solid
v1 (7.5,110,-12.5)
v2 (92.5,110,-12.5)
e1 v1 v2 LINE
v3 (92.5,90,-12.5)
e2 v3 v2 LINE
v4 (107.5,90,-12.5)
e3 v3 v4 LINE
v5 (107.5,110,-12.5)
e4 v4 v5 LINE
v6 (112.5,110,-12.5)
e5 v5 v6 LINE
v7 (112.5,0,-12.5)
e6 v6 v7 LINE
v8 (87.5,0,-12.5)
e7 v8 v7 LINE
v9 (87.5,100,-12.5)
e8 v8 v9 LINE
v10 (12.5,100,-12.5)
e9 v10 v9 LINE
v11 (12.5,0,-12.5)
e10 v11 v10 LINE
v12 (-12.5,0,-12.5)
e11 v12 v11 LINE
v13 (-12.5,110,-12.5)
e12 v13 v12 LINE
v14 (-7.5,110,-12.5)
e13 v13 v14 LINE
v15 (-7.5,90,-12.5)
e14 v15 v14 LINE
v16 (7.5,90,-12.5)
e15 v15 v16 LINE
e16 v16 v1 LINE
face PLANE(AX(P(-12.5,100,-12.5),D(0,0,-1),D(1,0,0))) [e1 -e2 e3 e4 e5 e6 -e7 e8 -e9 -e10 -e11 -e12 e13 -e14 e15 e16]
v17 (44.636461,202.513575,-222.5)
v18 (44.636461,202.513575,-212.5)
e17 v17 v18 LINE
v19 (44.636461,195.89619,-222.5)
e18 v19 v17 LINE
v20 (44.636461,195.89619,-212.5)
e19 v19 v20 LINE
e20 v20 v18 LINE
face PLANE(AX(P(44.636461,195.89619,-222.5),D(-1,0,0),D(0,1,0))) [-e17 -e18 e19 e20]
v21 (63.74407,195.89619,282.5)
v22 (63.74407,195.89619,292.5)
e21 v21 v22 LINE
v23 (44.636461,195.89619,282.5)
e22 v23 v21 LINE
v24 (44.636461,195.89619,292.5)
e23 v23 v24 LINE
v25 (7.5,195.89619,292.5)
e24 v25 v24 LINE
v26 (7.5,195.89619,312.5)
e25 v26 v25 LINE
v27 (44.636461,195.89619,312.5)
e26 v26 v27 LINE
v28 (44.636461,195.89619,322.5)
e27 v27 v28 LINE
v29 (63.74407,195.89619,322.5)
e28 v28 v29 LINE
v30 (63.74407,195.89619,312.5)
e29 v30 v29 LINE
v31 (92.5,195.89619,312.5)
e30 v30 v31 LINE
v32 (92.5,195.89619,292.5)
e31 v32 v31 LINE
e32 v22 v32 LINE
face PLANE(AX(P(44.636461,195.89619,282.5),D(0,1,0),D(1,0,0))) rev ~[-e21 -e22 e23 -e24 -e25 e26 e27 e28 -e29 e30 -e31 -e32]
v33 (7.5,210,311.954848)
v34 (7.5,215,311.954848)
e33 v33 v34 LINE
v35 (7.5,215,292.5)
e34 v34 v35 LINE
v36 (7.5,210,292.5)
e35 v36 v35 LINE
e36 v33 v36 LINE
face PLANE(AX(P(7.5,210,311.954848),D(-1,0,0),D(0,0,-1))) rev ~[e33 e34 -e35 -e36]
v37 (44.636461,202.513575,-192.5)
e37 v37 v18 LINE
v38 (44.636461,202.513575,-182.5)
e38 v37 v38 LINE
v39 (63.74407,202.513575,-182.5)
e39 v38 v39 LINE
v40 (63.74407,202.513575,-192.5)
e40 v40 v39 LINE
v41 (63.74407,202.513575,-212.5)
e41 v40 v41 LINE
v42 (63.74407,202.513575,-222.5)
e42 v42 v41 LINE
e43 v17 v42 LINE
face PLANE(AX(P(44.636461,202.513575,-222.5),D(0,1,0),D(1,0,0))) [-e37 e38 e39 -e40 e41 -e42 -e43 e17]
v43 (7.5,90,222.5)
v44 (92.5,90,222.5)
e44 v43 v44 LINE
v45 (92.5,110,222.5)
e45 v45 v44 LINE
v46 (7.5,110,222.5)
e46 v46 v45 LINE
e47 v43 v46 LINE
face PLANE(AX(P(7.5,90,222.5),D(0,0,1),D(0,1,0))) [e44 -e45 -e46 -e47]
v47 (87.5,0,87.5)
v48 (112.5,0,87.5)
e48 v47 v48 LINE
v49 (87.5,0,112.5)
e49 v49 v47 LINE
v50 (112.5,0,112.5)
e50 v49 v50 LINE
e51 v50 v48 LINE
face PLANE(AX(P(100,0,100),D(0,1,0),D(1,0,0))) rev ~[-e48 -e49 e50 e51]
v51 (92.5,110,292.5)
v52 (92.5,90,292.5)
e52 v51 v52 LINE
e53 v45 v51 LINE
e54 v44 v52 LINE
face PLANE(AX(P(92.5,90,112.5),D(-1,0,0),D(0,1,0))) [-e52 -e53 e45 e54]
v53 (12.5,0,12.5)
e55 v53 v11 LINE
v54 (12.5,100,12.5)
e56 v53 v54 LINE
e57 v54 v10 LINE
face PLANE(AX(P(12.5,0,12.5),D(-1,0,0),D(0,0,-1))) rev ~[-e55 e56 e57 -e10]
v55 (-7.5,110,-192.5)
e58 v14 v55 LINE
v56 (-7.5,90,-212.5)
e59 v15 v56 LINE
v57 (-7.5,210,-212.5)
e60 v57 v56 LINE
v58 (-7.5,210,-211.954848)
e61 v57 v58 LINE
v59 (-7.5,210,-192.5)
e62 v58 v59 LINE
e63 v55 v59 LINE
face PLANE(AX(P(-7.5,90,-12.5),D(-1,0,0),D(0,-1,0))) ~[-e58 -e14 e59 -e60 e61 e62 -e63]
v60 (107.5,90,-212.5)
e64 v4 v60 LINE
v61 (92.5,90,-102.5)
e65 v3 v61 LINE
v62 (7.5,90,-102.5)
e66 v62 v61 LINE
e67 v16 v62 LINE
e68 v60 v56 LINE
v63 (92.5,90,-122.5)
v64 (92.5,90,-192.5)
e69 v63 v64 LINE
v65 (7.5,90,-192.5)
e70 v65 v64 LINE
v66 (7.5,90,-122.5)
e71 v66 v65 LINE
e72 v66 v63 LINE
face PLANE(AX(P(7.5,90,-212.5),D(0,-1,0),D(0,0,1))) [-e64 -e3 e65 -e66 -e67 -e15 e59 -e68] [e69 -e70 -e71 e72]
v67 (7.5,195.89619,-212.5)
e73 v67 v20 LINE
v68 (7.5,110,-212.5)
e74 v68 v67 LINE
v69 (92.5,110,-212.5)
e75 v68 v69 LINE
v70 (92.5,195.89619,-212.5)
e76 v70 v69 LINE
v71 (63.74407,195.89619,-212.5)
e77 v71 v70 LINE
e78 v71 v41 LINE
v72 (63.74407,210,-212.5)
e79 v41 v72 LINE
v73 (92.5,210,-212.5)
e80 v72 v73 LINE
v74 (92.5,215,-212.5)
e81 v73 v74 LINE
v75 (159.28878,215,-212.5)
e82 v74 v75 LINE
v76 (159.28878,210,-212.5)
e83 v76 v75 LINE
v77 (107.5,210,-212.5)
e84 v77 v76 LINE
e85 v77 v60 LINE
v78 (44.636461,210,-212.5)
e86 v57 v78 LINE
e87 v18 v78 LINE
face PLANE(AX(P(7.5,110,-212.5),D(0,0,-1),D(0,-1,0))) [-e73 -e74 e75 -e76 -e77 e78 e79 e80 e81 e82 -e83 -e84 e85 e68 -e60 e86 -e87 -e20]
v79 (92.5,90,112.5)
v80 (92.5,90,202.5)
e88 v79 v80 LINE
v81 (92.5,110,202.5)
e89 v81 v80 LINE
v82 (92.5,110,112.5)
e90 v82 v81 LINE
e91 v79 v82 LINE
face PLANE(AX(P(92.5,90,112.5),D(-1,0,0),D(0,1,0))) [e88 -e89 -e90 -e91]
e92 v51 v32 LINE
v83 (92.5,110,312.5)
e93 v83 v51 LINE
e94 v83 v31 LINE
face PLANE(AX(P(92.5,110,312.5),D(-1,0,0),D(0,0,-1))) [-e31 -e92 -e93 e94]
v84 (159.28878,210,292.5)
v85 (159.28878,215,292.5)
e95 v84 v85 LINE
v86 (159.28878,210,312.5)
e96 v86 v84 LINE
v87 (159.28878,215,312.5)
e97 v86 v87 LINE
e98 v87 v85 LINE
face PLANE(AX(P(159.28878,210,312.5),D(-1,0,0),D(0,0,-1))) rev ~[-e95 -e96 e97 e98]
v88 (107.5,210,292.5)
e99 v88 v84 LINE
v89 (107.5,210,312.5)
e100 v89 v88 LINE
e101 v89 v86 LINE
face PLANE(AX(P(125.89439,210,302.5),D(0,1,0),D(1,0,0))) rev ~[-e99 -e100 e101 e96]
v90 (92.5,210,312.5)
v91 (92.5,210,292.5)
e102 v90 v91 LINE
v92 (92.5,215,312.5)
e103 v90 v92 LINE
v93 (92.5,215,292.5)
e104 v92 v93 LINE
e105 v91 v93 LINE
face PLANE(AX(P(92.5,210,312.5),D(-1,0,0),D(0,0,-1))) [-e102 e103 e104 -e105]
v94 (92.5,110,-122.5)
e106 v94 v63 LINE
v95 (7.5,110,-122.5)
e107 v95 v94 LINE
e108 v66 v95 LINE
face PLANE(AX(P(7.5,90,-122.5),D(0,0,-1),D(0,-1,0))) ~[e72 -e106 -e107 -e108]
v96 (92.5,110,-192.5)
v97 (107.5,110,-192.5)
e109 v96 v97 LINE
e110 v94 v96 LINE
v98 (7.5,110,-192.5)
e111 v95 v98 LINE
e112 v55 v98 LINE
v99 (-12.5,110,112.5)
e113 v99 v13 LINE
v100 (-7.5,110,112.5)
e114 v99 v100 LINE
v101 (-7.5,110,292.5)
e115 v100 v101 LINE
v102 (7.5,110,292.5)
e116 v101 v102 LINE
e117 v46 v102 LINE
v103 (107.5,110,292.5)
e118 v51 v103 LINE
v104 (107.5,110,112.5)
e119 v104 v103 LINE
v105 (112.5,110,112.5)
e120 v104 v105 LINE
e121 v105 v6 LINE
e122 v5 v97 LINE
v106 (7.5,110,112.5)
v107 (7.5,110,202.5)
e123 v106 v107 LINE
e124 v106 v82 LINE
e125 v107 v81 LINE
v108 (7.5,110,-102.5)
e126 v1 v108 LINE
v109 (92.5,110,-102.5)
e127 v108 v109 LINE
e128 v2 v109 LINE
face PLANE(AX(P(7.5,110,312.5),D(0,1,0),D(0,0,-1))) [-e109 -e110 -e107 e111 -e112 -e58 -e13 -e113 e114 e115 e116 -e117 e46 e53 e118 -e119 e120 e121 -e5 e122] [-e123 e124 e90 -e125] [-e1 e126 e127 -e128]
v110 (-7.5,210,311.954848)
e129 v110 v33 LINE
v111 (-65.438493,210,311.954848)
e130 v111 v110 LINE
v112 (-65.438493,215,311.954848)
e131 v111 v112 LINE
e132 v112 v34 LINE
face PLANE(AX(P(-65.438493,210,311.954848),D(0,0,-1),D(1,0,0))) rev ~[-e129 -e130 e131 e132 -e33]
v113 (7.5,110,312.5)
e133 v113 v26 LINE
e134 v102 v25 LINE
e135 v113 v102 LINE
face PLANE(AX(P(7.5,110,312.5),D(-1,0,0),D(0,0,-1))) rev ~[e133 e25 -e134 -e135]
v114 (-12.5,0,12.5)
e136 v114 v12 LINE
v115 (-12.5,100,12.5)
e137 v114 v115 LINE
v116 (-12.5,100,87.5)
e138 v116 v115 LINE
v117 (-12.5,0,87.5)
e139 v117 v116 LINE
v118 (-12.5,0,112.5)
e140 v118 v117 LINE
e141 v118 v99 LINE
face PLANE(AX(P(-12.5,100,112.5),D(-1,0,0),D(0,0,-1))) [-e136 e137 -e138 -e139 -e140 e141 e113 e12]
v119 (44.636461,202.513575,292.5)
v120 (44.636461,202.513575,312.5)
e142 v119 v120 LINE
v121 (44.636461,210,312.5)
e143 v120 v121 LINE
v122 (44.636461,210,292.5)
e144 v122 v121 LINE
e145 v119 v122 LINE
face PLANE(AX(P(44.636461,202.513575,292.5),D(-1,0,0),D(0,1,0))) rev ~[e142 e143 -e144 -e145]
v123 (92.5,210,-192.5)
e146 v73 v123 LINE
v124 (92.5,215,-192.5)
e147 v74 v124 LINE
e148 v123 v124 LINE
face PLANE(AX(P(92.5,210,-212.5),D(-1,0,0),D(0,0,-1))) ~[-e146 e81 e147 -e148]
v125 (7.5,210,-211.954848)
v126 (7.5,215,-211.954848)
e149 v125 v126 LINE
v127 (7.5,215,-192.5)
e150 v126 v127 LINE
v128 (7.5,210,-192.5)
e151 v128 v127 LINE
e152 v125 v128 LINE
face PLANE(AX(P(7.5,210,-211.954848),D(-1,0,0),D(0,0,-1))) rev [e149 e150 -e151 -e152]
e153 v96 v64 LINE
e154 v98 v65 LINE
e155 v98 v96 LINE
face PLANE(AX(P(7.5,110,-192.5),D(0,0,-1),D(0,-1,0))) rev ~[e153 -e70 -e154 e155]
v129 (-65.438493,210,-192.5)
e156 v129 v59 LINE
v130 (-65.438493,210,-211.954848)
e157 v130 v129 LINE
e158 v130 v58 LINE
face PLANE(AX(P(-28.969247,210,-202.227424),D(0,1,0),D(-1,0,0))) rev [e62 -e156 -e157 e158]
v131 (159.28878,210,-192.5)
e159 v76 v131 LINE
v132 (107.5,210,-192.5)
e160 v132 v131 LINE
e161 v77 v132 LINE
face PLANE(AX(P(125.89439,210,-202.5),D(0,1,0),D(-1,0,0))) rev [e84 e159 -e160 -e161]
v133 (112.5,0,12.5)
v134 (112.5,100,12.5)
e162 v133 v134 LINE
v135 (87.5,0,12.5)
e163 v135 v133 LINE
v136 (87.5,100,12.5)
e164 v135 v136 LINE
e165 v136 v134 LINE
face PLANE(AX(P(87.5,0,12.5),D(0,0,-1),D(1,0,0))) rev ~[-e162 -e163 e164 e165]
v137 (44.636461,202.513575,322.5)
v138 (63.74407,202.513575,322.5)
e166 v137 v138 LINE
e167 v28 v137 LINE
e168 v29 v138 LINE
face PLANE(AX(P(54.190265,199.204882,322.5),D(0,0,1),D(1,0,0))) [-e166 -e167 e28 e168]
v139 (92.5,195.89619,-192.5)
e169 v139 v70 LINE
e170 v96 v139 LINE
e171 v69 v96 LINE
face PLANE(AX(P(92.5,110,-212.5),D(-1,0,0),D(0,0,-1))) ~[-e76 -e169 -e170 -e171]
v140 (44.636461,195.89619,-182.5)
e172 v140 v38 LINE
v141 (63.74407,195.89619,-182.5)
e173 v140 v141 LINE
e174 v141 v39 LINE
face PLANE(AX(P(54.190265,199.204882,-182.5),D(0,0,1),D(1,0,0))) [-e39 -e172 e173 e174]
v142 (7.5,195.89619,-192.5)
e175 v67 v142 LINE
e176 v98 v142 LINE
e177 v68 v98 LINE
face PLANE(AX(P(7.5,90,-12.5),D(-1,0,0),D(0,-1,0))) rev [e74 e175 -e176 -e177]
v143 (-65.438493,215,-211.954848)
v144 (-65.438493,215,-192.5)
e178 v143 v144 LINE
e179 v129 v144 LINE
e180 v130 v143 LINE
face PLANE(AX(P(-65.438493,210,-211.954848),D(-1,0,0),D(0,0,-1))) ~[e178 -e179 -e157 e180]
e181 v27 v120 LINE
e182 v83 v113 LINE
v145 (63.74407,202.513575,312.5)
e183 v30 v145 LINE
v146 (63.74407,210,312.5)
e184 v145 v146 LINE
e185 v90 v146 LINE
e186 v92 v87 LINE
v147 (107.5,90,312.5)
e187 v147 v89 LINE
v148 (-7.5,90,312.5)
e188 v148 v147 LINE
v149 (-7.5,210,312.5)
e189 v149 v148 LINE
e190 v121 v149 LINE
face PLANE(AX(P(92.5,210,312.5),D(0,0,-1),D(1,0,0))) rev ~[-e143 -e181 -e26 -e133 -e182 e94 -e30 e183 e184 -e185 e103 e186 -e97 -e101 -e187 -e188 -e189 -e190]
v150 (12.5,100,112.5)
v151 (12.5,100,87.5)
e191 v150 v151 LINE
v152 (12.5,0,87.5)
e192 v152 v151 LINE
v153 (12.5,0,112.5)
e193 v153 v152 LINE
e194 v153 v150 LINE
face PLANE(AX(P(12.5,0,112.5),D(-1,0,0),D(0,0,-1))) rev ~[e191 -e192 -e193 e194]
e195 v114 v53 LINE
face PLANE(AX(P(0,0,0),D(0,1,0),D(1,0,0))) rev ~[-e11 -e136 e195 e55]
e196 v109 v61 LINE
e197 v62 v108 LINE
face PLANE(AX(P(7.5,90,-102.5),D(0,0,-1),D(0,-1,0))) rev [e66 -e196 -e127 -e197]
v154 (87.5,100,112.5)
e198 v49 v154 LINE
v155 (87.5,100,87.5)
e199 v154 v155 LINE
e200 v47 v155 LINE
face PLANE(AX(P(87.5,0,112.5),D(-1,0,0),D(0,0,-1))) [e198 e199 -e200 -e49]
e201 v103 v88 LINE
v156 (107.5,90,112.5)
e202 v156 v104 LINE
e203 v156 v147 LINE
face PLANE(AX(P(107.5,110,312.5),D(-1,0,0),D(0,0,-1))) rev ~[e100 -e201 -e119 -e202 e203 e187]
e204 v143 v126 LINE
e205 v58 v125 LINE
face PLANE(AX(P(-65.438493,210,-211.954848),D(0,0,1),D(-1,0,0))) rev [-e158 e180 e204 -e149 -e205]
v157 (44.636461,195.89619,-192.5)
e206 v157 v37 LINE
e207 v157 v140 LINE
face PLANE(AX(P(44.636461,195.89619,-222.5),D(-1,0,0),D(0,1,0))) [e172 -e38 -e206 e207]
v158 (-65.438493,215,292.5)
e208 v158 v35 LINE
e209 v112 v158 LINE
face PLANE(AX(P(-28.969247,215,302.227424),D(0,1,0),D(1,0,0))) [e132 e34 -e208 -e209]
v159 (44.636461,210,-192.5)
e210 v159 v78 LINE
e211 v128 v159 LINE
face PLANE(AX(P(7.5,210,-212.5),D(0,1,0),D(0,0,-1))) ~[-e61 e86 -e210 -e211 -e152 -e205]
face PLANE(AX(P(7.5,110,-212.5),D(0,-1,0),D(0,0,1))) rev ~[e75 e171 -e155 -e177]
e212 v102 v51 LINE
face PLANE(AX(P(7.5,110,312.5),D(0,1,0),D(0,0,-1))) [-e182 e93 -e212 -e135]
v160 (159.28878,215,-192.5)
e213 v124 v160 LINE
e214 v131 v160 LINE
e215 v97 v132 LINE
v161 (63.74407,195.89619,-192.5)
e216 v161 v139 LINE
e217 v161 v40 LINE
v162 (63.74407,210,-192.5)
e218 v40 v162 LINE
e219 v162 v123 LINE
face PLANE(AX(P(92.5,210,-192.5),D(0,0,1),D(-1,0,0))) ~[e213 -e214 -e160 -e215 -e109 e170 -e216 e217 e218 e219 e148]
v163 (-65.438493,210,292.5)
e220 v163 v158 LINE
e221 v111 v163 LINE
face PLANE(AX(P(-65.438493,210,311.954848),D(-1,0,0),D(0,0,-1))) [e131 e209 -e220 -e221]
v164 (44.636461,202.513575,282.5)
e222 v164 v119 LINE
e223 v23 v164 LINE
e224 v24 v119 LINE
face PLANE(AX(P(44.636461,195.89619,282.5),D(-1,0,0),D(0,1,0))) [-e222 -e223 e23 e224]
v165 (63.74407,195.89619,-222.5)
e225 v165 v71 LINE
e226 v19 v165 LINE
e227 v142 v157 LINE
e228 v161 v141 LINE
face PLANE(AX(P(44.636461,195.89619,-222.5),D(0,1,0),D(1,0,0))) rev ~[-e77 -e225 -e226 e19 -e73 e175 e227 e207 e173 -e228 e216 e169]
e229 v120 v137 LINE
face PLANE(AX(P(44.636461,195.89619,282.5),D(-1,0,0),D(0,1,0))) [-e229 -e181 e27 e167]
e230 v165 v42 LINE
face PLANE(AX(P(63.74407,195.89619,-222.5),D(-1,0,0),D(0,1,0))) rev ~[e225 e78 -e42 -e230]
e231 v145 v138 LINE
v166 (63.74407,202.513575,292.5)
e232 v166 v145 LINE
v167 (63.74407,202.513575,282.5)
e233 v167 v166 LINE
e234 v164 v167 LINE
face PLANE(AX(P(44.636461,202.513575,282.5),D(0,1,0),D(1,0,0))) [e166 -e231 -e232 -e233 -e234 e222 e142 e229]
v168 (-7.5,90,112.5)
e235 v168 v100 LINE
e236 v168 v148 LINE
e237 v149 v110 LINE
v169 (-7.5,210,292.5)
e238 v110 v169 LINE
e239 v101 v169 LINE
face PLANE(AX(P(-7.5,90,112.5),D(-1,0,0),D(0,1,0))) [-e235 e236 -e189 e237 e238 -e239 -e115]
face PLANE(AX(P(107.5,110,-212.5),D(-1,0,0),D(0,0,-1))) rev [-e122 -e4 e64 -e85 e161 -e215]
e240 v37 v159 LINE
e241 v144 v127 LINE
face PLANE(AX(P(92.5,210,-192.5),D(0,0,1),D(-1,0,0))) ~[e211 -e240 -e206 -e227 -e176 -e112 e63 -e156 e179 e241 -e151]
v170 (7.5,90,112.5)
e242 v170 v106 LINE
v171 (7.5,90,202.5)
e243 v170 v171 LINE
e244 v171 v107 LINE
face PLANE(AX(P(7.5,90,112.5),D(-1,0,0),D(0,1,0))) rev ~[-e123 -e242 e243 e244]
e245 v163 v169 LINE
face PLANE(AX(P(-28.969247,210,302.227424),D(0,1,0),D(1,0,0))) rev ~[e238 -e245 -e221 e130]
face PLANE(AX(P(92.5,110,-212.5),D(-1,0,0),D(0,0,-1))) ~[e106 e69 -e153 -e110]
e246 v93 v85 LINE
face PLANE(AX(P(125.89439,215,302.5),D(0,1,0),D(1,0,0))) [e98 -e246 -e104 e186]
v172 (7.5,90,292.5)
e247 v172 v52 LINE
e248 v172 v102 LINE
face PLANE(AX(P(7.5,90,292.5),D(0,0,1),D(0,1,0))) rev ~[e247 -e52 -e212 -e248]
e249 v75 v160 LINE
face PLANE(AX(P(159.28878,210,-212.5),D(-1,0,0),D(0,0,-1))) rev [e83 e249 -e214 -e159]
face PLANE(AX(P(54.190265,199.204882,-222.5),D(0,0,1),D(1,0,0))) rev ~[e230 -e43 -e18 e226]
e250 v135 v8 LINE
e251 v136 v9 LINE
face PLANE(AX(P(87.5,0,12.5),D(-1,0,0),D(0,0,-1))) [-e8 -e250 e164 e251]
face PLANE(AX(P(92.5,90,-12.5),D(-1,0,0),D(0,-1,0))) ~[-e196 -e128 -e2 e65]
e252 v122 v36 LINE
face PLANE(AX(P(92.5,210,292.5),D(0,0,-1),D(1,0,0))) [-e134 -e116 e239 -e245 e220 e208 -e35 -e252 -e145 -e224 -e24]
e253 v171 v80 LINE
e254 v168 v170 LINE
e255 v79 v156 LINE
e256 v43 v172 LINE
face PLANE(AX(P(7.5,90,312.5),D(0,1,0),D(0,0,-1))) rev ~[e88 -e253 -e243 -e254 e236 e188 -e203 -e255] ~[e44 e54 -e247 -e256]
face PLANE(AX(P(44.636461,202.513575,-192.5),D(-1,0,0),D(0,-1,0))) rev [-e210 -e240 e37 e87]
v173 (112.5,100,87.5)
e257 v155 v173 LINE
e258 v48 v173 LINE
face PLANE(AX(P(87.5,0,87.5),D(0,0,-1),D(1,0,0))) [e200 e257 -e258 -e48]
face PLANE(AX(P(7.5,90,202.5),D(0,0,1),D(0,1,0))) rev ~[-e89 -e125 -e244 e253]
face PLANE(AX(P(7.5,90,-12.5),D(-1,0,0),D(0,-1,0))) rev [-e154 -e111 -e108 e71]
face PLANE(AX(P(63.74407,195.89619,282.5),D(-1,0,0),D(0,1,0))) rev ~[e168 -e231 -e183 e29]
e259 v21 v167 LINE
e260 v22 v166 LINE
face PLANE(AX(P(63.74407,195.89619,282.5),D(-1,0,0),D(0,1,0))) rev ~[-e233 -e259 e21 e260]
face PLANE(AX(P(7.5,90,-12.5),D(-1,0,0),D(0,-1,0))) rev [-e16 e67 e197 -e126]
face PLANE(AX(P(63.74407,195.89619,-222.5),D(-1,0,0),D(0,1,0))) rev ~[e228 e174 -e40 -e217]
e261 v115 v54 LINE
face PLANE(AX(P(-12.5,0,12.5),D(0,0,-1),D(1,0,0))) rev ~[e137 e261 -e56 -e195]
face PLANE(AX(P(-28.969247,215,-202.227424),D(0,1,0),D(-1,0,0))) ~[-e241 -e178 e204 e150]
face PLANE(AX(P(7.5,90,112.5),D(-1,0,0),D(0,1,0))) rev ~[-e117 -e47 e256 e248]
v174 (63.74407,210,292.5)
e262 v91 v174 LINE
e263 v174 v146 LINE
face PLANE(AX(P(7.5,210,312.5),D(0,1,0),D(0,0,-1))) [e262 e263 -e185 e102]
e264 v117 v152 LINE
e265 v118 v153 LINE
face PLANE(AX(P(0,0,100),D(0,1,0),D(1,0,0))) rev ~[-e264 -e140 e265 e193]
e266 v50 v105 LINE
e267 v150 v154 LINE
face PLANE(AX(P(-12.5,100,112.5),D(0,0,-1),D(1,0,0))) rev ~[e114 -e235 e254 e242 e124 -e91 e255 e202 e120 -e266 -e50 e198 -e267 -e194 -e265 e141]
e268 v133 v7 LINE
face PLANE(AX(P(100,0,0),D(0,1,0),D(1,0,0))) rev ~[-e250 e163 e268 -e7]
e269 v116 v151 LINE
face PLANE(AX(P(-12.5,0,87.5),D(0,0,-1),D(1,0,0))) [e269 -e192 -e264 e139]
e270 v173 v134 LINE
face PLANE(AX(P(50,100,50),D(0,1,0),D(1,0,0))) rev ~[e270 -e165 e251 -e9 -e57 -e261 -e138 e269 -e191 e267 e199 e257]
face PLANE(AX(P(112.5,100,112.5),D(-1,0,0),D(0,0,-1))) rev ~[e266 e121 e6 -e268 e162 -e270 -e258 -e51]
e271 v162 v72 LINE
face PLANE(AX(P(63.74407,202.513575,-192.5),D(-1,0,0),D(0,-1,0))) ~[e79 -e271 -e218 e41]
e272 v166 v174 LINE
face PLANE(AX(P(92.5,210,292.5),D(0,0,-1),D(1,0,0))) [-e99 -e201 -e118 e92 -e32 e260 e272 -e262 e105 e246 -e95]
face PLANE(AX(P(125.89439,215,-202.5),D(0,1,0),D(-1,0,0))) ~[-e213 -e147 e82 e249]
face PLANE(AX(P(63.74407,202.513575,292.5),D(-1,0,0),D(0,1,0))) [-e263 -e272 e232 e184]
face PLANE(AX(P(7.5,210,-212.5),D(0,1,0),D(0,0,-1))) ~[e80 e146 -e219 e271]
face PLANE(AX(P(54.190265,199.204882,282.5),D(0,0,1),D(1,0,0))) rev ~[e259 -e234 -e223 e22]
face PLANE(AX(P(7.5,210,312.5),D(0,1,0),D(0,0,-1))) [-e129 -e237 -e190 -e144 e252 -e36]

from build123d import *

# Parameters (mm, degrees)
SKETCH_1_W               = 25
SKETCH_1_H               = 25
EXTRUDE_1_DEPTH          = 100
PATTERN_LINEAR_1_COUNT   = 2
PATTERN_LINEAR_1_PITCH   = 100
PATTERN_LINEAR_1_2_COUNT = 2
PATTERN_LINEAR_1_2_PITCH = 100
SKETCH_2_W               = 125
SKETCH_2_H               = 125
EXTRUDE_2_DEPTH          = 10
SKETCH_3_W               = 15
SKETCH_3_H               = 20
EXTRUDE_3_DEPTH          = 200
EXTRUDE_4_REACH          = 349.536
SKETCH_4_W               = 20
SKETCH_4_H               = 20
PATTERN_LINEAR_2_COUNT   = 2
PATTERN_LINEAR_2_PITCH   = 90
SKETCH_5_W               = 15
SKETCH_5_H               = 20
EXTRUDE_5_DEPTH          = 100
EXTRUDE_6_REACH          = 392.872
SKETCH_6_W               = 20
SKETCH_6_H               = 14.103809958
CUT_EXTRUDE_1_REACH      = 389.016
SKETCH_7_W               = 19.107608913
SKETCH_7_H               = 7.486425105
SKETCH_8_W               = 72.938493455
SKETCH_8_H               = 19.454848412
EXTRUDE_7_DEPTH          = 5
SKETCH_9_W               = 66.78878025
SKETCH_9_H               = 20
EXTRUDE_8_DEPTH          = 5
MIRROR_1_COPY_1_REACH    = 349.536
MIRROR_1_COPY_1_SKETCH_W = 20
MIRROR_1_COPY_1_SKETCH_H = 20
EXTRUDE_9_DEPTH          = 10
EXTRUDE_9_DEPTH_BACK     = 30
SKETCH_10_W              = 19.107608913
SKETCH_10_H              = 6.617384853
EXTRUDE_10_DEPTH         = 10
EXTRUDE_10_DEPTH_BACK    = 30
SKETCH_11_W              = 19.107608913
SKETCH_11_H              = 6.617384853


with BuildPart() as part:
    # 草图1 → 凸台-拉伸1 (new body)
    with BuildSketch(Plane(origin=(0, 0, 0), x_dir=(1, 0, 0), z_dir=(0, 1, 0))):
        Rectangle(SKETCH_1_W, SKETCH_1_H)
    extrude(amount=EXTRUDE_1_DEPTH)


with BuildPart() as pattern_linear_1_1:
    # 阵列(线性)1: pattern copy
    add(part.part.moved(Location(Vector(0, 0, 1) * (1 * PATTERN_LINEAR_1_PITCH))))


with BuildPart() as pattern_linear_1_2_1:
    # Pattern Linear 1 2: pattern copy
    add(part.part.moved(Location(Vector(1, 0, 0) * (1 * PATTERN_LINEAR_1_2_PITCH))))


with BuildPart() as pattern_linear_1_2_2:
    # Pattern Linear 1 2: pattern copy
    add(pattern_linear_1_1.part.moved(Location(Vector(1, 0, 0) * (1 * PATTERN_LINEAR_1_2_PITCH))))


with BuildPart() as part_1:
    add(part.part)

    add(pattern_linear_1_1.part)  # 凸台-拉伸2 merges 阵列(线性)1_1

    add(pattern_linear_1_2_1.part)  # 凸台-拉伸2 merges 阵列(线性)1 2_1

    add(pattern_linear_1_2_2.part)  # 凸台-拉伸2 merges 阵列(线性)1 2_2
    # 草图2 → 凸台-拉伸2 (add)
    with BuildSketch(Plane(origin=(0, 100, 0), x_dir=(1, 0, 0), z_dir=(0, 1, 0))):
        with Locations((50, -50)):
            Rectangle(SKETCH_2_W, SKETCH_2_H)
    extrude(amount=EXTRUDE_2_DEPTH)

    # 草图3 → 凸台-拉伸3 (add)
    with BuildSketch(Plane.XY.offset(112.5)):
        with Locations((0, 100)):
            Rectangle(SKETCH_3_W, SKETCH_3_H)
        with Locations((100, 100)):
            Rectangle(SKETCH_3_W, SKETCH_3_H)
    extrude_3 = extrude(amount=EXTRUDE_3_DEPTH)

    # 草图4 → 凸台-拉伸4 (add, up to next)
    with BuildSketch(Plane(origin=(7.5, 0, 0), x_dir=(0, 0, -1), z_dir=(1, 0, 0)), mode=Mode.PRIVATE) as extrude_4_sk1:
        with Locations((-212.5, 100)):
            Rectangle(SKETCH_4_W, SKETCH_4_H)
    extrude_4_tool1 = extrude(extrude_4_sk1.sketch, amount=EXTRUDE_4_REACH, mode=Mode.PRIVATE) - part_1.part
    extrude_4 = extrude_4_tool1.solids().sort_by_distance((7.5, 100, 212.5))[0]
    add(extrude_4)

    # 阵列(线性)2: 凸台-拉伸4 ×2
    with Locations(*[(0, 0, i * PATTERN_LINEAR_2_PITCH) for i in range(1, PATTERN_LINEAR_2_COUNT)]):
        add(extrude_4)

    # 草图5 → 凸台-拉伸5 (add)
    with BuildSketch(Plane(origin=(0, 110, 0), x_dir=(1, 0, 0), z_dir=(0, 1, 0))):
        with Locations((100, -302.5)):
            Rectangle(SKETCH_5_W, SKETCH_5_H)
        with Locations((0, -302.5)):
            Rectangle(SKETCH_5_W, SKETCH_5_H)
    extrude_5 = extrude(amount=EXTRUDE_5_DEPTH)

    # 草图6 → 凸台-拉伸6 (add, up to next)
    with BuildSketch(Plane(origin=(7.5, 0, 0), x_dir=(0, 0, -1), z_dir=(1, 0, 0)), mode=Mode.PRIVATE) as extrude_6_sk1:
        with Locations((-302.5, 202.948095021)):
            Rectangle(SKETCH_6_W, SKETCH_6_H)
    extrude_6_tool1 = extrude(extrude_6_sk1.sketch, amount=EXTRUDE_6_REACH, mode=Mode.PRIVATE) - part_1.part
    extrude_6 = extrude_6_tool1.solids().sort_by_distance((7.5, 202.948095, 302.5))[0]
    add(extrude_6)

    # 草图7 → 切除-拉伸1 (cut, up to next)
    with BuildSketch(Plane(origin=(0, 0, 292.5), x_dir=(-1, 0, 0), z_dir=(0, 0, -1)), mode=Mode.PRIVATE) as cut_extrude_1_sk1:
        with Locations((-54.190265113, 206.256787448)):
            Rectangle(SKETCH_7_W, SKETCH_7_H)
    cut_extrude_1_tool1 = extrude(cut_extrude_1_sk1.sketch, amount=-CUT_EXTRUDE_1_REACH, mode=Mode.PRIVATE) & part_1.part
    cut_extrude_1 = cut_extrude_1_tool1.solids().sort_by_distance((54.190265, 206.256787, 292.5))[0]
    add(cut_extrude_1, mode=Mode.SUBTRACT)

    # 草图8 → 凸台-拉伸7 (add)
    with BuildSketch(Plane(origin=(0, 210, 0), x_dir=(1, 0, 0), z_dir=(0, 1, 0))):
        with Locations((-28.969246727, -302.227424206)):
            Rectangle(SKETCH_8_W, SKETCH_8_H)
    extrude_7 = extrude(amount=EXTRUDE_7_DEPTH)

    # 草图9 → 凸台-拉伸8 (add)
    with BuildSketch(Plane(origin=(0, 210, 0), x_dir=(1, 0, 0), z_dir=(0, 1, 0))):
        with Locations((125.894390125, -302.5)):
            Rectangle(SKETCH_9_W, SKETCH_9_H)
    extrude_8 = extrude(amount=EXTRUDE_8_DEPTH)

    # 镜向1: 凸台-拉伸3, 凸台-拉伸4, 凸台-拉伸5, 凸台-拉伸6, 切除-拉伸1, 凸台-拉伸7, 凸台-拉伸8 across plane
    add(extrude_3.mirror(Plane.XY.offset(50)))
    add(extrude_4.mirror(Plane.XY.offset(50)))
    add(extrude_5.mirror(Plane.XY.offset(50)))
    add(extrude_6.mirror(Plane.XY.offset(50)))
    add(cut_extrude_1.mirror(Plane.XY.offset(50)), mode=Mode.SUBTRACT)
    add(extrude_7.mirror(Plane.XY.offset(50)))
    add(extrude_8.mirror(Plane.XY.offset(50)))

    # 镜向1 copy 1 sketch → 镜向1 copy 1 (add, up to next)
    with BuildSketch(Plane(origin=(7.5, 0, 10), x_dir=(0, 0, 1), z_dir=(1, 0, 0)), mode=Mode.PRIVATE) as mirror_1_copy_1_sk1:
        with Locations((-212.5, -100)):
            Rectangle(MIRROR_1_COPY_1_SKETCH_W, MIRROR_1_COPY_1_SKETCH_H)
    mirror_1_copy_1_tool1 = extrude(mirror_1_copy_1_sk1.sketch, amount=MIRROR_1_COPY_1_REACH, mode=Mode.PRIVATE) - part_1.part
    add(mirror_1_copy_1_tool1.solids().sort_by_distance((7.5, 100, -202.5))[0])

    # 草图10 → 凸台-拉伸9 (add, two sides: drawn at the far end of the back side and taken through both)
    with BuildSketch(Plane.XY.offset(312.5).offset(-EXTRUDE_9_DEPTH_BACK)):
        with Locations((54.190265113, 199.204882468)):
            Rectangle(SKETCH_10_W, SKETCH_10_H)
    extrude(amount=EXTRUDE_9_DEPTH + EXTRUDE_9_DEPTH_BACK)

    # 草图11 → 凸台-拉伸10 (add, two sides: drawn at the far end of the back side and taken through both)
    with BuildSketch(Plane.XY.offset(-192.5).offset(-EXTRUDE_10_DEPTH_BACK)):
        with Locations((54.190265113, 199.204882468)):
            Rectangle(SKETCH_11_W, SKETCH_11_H)
    extrude(amount=EXTRUDE_10_DEPTH + EXTRUDE_10_DEPTH_BACK)


solid = part_1.part
